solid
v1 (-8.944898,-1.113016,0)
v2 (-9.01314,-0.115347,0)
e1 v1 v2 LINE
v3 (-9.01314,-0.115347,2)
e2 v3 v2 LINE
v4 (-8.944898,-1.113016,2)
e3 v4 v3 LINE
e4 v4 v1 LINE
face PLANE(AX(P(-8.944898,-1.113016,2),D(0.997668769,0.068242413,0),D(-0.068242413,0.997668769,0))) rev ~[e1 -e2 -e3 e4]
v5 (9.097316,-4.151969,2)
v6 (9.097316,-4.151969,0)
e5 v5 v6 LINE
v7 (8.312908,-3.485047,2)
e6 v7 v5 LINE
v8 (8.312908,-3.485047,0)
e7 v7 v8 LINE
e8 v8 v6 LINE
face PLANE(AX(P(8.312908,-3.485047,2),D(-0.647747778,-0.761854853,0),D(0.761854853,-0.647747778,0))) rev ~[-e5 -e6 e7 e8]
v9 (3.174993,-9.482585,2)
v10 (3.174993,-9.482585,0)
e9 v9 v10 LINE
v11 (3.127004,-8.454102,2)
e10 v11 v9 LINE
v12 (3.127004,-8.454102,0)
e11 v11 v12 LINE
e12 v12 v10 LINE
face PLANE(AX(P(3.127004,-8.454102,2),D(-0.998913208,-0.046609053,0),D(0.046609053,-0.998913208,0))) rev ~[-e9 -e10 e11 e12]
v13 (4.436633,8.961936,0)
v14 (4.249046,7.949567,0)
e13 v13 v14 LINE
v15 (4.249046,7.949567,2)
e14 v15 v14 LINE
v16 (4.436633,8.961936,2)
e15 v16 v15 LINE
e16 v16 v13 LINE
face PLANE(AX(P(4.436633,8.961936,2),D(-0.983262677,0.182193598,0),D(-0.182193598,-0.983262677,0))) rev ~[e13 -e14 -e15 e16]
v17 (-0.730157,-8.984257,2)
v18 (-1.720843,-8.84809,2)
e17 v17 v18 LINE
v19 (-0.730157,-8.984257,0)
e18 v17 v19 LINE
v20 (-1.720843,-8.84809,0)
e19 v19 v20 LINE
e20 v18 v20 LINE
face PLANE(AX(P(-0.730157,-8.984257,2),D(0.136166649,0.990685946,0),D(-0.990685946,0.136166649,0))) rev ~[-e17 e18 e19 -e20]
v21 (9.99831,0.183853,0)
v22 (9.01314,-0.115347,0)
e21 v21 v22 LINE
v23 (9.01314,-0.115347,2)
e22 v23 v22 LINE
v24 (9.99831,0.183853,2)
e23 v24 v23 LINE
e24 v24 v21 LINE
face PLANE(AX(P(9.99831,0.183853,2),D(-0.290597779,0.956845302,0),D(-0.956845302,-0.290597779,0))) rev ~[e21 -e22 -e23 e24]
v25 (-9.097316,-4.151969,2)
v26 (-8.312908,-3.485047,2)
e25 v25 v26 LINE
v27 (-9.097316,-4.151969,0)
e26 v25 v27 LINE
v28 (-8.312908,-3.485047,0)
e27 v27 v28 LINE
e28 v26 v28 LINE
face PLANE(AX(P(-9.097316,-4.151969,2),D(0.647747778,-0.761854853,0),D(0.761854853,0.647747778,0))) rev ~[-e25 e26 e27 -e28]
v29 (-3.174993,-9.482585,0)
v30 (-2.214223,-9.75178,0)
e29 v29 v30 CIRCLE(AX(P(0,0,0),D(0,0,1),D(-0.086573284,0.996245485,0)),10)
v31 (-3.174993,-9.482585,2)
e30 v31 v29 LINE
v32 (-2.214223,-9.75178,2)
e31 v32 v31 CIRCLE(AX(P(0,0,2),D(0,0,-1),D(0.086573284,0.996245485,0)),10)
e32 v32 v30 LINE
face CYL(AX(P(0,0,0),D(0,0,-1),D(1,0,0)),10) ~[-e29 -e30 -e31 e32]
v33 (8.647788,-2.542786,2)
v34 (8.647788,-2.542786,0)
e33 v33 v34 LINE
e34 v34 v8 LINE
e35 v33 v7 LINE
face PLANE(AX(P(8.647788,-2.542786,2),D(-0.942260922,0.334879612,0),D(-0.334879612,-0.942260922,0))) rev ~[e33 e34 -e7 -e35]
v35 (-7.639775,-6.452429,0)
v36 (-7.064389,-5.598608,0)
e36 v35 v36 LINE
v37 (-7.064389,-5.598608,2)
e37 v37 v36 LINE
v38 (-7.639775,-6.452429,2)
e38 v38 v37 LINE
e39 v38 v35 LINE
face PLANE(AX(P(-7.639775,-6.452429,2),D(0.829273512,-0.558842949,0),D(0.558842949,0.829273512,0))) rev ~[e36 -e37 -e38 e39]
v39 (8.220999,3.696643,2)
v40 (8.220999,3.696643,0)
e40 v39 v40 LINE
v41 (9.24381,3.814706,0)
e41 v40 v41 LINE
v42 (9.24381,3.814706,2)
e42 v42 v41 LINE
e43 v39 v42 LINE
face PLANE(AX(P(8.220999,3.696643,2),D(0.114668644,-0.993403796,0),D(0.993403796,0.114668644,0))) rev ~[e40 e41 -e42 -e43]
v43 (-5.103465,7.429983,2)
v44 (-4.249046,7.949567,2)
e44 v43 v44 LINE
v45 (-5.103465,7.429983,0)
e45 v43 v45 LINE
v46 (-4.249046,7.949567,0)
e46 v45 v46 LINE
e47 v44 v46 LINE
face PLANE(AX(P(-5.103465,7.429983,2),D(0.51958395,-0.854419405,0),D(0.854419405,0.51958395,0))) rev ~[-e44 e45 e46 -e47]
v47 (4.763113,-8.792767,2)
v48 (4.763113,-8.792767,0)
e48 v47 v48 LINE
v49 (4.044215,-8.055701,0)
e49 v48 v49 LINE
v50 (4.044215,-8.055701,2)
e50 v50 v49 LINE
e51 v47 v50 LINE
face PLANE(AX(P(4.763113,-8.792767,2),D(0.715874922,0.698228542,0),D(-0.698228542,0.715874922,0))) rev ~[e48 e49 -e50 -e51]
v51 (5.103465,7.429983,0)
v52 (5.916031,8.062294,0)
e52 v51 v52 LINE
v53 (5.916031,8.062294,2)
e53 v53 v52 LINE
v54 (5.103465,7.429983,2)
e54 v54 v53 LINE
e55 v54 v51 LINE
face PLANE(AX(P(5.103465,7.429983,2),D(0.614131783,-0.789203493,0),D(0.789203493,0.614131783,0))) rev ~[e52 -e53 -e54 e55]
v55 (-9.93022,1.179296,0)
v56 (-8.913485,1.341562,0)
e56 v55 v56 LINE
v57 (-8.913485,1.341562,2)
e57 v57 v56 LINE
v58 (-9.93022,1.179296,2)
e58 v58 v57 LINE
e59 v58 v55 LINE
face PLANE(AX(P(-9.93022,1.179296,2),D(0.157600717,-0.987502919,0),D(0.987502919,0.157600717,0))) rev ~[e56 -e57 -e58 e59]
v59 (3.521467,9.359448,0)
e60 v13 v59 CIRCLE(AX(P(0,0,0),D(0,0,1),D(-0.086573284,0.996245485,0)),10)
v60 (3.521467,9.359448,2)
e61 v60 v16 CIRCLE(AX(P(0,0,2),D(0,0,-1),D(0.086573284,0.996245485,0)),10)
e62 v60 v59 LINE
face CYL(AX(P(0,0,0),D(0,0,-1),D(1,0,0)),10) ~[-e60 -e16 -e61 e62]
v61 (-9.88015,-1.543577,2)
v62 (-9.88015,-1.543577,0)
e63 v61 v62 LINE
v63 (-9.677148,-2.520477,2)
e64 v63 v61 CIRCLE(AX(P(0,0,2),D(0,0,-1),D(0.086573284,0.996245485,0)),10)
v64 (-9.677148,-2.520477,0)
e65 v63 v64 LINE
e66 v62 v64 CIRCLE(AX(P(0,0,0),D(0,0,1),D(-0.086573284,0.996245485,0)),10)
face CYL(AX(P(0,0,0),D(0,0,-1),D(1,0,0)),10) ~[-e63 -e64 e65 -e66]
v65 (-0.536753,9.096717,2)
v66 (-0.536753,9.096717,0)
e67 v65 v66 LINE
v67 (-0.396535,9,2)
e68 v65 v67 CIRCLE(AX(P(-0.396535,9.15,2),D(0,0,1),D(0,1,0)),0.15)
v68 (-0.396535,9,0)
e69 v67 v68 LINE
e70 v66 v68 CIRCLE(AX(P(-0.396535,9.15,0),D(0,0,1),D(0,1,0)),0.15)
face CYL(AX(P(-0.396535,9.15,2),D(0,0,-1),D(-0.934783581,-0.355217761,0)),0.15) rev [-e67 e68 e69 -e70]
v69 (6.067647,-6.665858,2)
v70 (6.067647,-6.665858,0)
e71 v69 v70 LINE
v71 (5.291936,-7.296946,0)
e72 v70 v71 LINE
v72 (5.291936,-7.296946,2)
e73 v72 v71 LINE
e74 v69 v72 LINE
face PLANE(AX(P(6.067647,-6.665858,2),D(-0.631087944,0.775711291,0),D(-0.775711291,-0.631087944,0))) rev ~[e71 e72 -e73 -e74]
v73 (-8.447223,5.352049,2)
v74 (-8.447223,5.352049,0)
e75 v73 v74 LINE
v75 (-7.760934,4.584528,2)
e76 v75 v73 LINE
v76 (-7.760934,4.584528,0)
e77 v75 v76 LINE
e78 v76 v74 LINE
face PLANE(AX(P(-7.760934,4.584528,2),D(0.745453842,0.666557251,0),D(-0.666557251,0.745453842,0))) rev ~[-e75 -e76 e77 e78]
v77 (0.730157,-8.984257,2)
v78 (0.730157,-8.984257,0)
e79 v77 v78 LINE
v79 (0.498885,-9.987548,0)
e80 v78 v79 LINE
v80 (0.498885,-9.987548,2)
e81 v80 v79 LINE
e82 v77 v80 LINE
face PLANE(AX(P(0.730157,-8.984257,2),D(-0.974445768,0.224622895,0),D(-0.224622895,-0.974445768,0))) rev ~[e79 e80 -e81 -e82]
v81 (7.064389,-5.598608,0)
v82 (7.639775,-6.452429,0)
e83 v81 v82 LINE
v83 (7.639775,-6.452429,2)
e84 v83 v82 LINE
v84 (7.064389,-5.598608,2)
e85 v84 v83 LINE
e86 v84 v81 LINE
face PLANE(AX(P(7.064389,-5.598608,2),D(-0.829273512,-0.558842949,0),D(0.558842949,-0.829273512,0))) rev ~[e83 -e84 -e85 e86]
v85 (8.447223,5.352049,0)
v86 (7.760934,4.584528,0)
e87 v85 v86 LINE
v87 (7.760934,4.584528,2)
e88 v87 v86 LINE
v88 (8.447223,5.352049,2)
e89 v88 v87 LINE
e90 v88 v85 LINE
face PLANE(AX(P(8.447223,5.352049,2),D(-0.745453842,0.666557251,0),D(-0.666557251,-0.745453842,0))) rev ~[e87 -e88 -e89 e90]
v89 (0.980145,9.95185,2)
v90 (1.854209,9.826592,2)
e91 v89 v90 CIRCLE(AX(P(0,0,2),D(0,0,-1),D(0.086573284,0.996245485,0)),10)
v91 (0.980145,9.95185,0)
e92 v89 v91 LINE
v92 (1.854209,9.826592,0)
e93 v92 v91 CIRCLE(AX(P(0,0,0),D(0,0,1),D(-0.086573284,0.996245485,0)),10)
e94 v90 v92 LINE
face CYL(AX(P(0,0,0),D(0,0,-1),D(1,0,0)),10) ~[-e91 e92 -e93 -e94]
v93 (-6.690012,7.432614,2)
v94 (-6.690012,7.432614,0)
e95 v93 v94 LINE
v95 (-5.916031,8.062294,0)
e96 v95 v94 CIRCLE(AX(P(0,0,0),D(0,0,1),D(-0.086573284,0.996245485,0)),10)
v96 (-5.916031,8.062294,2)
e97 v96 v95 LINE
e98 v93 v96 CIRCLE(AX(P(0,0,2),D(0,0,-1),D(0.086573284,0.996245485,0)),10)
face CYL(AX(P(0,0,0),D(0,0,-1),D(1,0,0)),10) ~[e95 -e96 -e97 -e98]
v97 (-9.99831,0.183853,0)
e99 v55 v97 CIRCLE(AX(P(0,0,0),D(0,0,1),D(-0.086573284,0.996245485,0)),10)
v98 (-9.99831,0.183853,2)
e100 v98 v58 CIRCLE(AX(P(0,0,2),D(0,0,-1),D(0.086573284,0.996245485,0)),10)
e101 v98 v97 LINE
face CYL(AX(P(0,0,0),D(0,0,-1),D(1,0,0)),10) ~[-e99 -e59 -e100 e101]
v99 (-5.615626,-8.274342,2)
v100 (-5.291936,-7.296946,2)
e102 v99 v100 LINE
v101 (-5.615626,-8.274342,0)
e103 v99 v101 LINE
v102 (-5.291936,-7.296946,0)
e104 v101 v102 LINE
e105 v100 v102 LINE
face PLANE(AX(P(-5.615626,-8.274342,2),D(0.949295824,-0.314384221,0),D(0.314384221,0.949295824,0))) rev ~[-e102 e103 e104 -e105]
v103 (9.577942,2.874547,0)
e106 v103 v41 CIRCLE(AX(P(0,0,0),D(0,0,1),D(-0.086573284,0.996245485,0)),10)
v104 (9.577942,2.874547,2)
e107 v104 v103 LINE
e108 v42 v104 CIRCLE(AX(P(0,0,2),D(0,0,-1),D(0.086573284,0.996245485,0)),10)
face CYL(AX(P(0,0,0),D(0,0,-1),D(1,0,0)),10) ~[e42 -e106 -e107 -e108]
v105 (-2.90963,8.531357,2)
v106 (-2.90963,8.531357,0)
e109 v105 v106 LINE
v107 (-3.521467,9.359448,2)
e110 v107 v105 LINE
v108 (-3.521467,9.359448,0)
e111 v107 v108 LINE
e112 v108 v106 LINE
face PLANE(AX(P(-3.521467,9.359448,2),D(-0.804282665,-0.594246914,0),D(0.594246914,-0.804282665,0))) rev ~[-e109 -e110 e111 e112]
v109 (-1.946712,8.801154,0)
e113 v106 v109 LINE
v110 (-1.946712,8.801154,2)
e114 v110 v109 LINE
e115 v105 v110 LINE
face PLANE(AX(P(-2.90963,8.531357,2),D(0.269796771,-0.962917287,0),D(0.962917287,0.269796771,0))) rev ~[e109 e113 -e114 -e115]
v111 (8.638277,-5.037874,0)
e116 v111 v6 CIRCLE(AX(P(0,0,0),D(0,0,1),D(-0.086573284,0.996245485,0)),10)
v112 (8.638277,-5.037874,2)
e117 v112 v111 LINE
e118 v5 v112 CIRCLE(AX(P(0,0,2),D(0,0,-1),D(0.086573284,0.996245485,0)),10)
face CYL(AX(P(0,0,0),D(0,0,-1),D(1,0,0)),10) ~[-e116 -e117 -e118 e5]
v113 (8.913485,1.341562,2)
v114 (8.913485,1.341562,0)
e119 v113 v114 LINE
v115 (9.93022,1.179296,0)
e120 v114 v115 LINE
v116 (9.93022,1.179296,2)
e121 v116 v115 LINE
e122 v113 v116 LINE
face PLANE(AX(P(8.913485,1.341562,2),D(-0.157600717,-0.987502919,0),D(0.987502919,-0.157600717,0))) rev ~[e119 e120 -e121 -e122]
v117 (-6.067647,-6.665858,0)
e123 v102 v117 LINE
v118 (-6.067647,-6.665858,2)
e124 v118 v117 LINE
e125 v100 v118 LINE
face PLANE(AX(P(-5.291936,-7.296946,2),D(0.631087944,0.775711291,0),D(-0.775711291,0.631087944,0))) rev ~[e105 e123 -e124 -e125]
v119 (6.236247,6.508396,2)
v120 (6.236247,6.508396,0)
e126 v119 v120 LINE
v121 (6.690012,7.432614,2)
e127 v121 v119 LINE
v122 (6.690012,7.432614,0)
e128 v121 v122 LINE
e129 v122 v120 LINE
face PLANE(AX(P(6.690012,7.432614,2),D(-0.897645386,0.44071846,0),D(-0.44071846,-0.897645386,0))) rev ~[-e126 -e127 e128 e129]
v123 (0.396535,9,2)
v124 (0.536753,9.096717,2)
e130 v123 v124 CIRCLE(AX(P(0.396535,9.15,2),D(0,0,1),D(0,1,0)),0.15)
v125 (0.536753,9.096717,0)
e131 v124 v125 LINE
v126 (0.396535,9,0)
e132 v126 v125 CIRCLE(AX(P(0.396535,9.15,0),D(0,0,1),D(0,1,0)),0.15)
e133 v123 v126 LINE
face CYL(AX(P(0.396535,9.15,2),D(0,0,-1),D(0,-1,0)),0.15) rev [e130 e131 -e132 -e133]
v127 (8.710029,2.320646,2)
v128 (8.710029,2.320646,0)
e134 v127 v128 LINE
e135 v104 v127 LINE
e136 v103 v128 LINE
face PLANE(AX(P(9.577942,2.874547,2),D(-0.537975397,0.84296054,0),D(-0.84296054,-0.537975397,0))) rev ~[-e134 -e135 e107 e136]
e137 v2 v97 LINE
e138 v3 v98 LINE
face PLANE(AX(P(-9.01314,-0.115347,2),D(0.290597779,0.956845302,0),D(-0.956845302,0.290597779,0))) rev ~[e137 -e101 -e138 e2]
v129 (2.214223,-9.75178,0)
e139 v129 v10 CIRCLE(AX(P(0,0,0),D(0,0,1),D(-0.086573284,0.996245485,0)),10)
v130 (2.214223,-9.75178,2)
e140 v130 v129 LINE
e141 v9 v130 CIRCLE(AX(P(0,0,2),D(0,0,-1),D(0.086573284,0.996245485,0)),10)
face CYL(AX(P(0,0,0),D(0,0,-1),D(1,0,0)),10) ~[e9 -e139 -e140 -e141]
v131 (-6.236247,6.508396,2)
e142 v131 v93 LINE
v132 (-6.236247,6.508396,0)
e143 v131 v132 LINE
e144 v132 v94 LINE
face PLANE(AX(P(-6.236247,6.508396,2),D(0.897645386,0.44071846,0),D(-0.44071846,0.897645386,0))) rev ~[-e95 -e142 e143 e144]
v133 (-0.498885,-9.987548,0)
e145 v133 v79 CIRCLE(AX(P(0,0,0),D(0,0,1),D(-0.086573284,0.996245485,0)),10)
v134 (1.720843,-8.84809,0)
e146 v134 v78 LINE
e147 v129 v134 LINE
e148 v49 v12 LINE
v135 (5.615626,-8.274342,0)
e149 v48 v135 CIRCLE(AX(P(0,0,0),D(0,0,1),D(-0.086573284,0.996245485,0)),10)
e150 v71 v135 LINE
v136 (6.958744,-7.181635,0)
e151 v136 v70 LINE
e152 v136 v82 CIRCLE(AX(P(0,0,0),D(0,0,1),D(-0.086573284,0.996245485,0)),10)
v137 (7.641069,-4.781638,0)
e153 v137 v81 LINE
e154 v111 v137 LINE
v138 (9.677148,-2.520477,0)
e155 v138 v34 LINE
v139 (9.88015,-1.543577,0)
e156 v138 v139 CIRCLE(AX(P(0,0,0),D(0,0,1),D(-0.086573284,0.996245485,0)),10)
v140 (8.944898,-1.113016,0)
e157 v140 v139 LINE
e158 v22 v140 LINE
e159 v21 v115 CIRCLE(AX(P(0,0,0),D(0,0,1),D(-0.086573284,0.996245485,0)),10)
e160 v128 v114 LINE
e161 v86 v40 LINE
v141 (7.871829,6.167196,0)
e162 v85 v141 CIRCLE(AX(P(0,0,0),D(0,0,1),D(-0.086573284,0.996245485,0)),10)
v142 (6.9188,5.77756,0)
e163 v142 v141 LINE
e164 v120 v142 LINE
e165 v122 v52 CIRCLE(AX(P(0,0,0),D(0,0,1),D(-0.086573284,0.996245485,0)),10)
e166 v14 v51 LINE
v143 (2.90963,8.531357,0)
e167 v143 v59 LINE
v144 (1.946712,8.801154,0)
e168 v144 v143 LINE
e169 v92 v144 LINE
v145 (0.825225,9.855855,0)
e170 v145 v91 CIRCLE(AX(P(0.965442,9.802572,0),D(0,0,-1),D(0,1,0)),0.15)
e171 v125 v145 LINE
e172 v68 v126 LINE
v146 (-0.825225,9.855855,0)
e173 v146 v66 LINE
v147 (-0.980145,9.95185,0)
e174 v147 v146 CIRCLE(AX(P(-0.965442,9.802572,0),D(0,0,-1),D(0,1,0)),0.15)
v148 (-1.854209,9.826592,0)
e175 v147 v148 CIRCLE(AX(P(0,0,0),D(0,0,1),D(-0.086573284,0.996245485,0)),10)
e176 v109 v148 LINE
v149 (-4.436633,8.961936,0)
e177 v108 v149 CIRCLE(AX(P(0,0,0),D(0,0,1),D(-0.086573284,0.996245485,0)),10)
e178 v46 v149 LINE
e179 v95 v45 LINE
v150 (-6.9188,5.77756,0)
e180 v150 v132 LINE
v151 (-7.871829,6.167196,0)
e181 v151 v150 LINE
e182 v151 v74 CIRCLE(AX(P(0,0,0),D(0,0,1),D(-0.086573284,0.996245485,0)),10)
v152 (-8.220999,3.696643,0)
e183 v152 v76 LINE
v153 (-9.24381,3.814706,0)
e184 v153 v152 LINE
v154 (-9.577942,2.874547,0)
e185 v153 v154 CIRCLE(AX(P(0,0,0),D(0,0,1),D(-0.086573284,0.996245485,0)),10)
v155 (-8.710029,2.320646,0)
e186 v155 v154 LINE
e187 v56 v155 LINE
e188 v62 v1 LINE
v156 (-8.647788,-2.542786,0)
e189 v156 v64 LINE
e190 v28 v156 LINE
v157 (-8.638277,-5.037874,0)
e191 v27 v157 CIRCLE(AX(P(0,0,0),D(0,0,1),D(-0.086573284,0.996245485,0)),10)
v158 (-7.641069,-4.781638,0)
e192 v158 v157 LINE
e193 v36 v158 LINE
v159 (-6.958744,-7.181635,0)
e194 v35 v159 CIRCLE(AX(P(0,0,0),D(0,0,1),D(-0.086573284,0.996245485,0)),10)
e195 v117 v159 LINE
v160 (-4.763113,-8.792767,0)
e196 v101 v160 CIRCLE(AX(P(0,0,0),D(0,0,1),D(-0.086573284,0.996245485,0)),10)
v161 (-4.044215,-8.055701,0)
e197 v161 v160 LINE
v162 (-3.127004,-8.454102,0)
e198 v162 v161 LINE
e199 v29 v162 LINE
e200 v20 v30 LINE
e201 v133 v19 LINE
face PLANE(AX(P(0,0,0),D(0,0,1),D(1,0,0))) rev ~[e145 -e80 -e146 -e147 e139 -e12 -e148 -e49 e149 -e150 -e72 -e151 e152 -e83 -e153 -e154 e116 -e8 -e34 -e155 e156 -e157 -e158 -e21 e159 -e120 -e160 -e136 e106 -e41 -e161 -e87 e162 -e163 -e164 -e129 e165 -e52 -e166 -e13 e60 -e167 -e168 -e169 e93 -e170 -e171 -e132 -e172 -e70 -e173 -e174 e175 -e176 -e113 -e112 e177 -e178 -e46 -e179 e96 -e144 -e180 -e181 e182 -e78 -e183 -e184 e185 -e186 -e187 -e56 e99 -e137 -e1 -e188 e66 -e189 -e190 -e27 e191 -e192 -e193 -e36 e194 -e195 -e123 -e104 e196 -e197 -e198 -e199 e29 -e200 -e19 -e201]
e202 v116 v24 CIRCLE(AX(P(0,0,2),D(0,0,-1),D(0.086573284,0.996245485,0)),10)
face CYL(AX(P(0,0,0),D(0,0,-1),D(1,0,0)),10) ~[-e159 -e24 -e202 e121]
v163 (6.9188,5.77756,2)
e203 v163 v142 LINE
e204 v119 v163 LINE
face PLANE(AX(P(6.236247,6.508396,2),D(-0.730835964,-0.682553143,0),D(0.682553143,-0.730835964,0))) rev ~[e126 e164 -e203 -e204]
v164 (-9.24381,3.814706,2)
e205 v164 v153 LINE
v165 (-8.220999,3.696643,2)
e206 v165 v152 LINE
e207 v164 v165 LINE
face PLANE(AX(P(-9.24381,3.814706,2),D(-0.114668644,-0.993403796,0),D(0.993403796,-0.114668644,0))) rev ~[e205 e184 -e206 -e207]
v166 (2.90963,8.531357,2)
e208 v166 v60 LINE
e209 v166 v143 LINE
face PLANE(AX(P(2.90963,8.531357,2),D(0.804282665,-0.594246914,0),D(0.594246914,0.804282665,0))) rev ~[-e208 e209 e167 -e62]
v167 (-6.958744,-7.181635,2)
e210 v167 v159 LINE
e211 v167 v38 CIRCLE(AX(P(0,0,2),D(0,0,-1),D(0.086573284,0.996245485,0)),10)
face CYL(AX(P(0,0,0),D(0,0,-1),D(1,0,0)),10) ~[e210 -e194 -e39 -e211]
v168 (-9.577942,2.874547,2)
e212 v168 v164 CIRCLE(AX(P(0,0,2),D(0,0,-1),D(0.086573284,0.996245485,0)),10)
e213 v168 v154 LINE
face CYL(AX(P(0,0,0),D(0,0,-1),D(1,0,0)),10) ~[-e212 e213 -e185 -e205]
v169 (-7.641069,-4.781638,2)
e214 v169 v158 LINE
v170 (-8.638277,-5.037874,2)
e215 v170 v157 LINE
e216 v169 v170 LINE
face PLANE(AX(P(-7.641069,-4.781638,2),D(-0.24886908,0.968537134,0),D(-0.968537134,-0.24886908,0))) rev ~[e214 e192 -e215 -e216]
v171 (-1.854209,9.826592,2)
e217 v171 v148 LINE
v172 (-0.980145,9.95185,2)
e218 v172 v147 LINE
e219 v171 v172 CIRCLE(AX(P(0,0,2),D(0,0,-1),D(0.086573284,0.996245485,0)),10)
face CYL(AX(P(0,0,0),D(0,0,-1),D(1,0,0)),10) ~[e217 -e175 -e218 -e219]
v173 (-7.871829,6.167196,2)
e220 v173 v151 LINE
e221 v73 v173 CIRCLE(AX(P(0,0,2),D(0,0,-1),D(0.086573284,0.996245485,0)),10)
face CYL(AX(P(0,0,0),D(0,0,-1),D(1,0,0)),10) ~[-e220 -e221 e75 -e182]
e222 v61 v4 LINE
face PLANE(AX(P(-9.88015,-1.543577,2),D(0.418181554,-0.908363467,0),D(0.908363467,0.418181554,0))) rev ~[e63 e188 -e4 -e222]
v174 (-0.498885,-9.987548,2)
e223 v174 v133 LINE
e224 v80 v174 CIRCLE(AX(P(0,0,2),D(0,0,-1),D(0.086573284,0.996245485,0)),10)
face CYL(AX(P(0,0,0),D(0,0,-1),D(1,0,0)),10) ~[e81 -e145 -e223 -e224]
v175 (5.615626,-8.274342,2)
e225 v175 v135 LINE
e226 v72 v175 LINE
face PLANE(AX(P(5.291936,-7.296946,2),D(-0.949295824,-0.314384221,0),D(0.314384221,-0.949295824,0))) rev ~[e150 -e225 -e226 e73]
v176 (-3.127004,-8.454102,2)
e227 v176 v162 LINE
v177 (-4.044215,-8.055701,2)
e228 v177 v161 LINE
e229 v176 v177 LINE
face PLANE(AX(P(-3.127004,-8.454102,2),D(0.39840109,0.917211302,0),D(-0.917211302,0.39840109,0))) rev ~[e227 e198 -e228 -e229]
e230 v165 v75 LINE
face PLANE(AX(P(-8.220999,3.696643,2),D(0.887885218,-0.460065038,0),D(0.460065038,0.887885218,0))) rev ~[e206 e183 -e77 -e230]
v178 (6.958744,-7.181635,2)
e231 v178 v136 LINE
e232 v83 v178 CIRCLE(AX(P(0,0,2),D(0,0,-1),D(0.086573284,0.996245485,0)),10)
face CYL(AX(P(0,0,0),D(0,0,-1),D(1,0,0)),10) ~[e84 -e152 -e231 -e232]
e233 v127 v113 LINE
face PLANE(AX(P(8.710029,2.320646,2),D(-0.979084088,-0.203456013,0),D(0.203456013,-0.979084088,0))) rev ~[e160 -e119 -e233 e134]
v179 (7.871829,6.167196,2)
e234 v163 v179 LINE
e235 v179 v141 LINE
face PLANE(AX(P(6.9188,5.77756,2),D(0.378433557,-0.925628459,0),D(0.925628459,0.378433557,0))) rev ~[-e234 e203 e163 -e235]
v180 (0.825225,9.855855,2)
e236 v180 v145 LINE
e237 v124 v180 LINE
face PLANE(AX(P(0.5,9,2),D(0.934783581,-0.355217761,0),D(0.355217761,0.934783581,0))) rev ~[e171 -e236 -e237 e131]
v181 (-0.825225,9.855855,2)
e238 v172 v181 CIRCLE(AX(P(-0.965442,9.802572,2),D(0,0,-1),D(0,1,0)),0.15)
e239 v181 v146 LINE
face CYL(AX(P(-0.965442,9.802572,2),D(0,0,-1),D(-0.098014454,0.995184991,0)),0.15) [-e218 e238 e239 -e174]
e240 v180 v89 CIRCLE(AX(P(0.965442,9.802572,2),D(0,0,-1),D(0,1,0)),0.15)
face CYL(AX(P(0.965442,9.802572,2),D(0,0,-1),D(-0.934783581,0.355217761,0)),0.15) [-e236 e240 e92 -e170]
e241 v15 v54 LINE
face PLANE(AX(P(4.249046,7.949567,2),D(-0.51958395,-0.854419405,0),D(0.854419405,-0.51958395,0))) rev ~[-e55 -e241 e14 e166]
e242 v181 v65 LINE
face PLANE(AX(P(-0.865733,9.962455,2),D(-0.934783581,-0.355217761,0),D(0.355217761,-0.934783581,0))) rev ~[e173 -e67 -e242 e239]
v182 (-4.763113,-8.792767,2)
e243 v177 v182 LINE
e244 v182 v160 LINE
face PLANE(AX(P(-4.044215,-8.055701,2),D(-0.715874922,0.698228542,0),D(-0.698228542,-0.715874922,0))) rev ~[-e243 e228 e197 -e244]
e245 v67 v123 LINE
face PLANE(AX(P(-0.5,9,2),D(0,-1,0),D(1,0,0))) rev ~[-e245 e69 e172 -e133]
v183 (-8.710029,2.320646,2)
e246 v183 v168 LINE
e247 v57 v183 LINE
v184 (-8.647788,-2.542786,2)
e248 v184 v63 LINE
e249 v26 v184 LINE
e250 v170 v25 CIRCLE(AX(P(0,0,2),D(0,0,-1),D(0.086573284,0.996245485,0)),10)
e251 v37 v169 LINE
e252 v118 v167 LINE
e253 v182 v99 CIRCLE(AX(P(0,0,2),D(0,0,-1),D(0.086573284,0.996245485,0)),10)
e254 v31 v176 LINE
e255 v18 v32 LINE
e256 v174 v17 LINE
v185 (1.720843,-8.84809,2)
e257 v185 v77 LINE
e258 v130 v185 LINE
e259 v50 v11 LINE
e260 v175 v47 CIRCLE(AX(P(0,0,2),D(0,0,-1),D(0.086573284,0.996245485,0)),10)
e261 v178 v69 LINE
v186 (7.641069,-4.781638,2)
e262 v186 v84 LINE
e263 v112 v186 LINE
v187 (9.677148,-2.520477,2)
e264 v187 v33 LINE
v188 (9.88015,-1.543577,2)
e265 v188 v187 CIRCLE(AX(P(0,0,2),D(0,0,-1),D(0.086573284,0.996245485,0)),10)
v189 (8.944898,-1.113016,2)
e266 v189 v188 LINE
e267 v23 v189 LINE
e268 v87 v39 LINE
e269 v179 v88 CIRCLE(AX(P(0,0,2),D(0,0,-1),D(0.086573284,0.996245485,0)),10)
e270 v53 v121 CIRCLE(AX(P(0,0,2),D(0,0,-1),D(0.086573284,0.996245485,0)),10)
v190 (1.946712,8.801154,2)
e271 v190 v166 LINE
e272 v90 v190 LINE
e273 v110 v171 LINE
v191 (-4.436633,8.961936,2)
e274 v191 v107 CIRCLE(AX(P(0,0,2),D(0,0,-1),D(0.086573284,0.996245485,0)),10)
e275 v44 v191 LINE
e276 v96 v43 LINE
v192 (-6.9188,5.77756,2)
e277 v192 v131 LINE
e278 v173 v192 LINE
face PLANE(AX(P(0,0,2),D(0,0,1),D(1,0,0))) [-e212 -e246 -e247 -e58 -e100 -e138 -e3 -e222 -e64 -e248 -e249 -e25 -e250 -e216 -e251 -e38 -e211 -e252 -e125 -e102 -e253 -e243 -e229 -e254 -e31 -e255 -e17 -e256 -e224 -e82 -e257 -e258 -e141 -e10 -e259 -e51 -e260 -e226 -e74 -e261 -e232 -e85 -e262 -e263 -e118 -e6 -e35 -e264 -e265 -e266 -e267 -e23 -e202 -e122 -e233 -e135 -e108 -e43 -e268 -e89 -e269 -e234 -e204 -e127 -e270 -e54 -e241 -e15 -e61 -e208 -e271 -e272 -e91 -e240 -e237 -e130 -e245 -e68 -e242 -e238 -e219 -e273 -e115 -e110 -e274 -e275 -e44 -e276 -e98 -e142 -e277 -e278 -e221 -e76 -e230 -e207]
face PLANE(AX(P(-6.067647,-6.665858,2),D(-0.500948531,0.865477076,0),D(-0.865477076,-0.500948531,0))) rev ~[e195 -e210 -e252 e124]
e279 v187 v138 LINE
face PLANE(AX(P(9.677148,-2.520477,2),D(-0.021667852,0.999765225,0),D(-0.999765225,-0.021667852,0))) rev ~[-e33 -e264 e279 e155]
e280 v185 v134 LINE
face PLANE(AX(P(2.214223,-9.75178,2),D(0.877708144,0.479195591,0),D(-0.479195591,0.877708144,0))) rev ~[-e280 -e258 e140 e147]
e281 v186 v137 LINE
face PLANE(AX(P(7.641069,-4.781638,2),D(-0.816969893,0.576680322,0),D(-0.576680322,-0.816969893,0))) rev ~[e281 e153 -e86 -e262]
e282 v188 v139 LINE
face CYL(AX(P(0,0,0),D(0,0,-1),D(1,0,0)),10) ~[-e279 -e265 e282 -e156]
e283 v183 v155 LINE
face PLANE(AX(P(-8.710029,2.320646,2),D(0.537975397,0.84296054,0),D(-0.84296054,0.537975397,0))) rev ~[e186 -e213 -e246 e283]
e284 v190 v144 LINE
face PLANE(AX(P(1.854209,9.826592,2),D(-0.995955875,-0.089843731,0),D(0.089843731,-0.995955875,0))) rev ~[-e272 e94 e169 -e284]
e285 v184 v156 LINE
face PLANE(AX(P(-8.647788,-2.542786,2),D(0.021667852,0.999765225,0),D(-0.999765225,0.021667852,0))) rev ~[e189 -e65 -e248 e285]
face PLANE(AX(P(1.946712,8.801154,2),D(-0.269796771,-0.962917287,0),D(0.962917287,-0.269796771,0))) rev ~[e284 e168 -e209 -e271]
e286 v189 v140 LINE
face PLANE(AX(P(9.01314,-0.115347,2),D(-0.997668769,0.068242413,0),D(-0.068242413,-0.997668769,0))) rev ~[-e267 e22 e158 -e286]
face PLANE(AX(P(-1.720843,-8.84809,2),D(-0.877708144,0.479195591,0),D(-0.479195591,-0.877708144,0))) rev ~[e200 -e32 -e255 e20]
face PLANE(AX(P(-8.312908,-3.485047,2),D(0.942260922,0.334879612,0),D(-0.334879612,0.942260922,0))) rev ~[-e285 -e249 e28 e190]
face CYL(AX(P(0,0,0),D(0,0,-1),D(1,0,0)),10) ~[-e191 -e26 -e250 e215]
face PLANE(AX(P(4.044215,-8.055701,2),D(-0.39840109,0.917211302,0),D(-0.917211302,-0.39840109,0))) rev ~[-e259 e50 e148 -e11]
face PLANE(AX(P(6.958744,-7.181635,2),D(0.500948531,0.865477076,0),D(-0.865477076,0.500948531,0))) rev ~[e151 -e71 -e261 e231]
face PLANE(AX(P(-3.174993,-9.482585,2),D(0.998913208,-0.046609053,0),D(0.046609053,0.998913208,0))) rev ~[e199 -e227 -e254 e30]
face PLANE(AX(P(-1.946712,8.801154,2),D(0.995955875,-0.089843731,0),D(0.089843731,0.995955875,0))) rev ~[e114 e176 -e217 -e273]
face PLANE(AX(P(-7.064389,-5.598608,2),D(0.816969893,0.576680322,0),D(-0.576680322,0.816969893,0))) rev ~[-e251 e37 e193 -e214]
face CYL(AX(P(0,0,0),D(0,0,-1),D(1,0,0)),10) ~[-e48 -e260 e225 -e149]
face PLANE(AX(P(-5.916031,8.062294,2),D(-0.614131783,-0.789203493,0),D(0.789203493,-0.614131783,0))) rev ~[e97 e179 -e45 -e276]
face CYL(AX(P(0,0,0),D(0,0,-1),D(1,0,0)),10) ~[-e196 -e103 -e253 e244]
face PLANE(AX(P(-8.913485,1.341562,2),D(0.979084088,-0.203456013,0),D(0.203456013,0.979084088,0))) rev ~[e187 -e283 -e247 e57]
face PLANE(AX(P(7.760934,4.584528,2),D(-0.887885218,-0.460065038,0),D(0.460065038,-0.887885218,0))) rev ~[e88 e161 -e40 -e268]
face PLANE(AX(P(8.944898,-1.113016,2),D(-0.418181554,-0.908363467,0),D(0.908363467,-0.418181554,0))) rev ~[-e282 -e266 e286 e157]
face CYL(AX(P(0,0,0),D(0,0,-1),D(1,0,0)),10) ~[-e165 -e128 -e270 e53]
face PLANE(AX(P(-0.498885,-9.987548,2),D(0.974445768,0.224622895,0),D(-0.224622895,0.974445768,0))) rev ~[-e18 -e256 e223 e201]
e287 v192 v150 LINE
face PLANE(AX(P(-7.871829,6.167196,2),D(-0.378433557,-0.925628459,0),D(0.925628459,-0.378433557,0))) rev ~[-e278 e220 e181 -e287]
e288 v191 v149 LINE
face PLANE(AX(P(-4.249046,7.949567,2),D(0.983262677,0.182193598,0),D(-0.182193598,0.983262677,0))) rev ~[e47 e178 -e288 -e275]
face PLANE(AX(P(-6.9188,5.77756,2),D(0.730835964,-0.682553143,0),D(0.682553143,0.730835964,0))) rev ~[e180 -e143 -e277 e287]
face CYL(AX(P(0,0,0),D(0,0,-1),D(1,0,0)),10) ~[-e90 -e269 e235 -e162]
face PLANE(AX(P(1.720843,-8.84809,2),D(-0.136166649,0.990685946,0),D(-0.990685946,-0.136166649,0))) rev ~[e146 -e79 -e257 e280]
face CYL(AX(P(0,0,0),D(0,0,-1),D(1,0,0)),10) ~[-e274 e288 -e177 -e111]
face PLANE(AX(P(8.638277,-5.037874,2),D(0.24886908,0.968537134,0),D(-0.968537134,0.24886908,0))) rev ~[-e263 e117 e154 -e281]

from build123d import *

# Parameters (mm, degrees)
F0_R     = 10
F1_DEPTH = 2
F3_DEPTH = 25
F4_COUNT = 23
F5_R     = 0.15


with BuildPart() as f1:
    # F0 (on Top) → F1 (new body)
    with BuildSketch(Plane.XY):
        Circle(F0_R)
    extrude(amount=F1_DEPTH)

    # F2 (on face) → F3 (cut)
    with BuildSketch(Plane.XY.offset(2)):
        with BuildLine():
            Line((0, 10), (0, 9))
            Line((0, 9), (0.5, 9))
            Line((0.5, 9), (0.8657328431, 9.9624548503))
            ThreePointArc((0.8657328431, 9.9624548503), (0.4332732954, 9.9906093033), (0, 10))
        make_face()
        with BuildLine():
            Line((-0.5, 9), (0, 9))
            Line((0, 9), (0, 10))
            ThreePointArc((0, 10), (-0.4332732954, 9.9906093033), (-0.8657328431, 9.9624548503))
            Line((-0.8657328431, 9.9624548503), (-0.5, 9))
        make_face()
    f3 = extrude(amount=-F3_DEPTH, mode=Mode.SUBTRACT)

    # F4: F3 ×23 about axis
    f4_axis = Axis((0, 0, 0), (0, 0, -1))
    for i in range(1, F4_COUNT):
        add(f3.rotate(f4_axis, i * 360 / F4_COUNT), mode=Mode.SUBTRACT)

    # F5
    f5_edges = [f1.edges().sort_by_distance(p)[0] for p in [
        (0.5, 9, 1),
        (-0.5, 9, 1),
        (0.865733, 9.962455, 1),
        (-0.865733, 9.962455, 1),
    ]]
    fillet(f5_edges, radius=F5_R)


solid = f1.part
